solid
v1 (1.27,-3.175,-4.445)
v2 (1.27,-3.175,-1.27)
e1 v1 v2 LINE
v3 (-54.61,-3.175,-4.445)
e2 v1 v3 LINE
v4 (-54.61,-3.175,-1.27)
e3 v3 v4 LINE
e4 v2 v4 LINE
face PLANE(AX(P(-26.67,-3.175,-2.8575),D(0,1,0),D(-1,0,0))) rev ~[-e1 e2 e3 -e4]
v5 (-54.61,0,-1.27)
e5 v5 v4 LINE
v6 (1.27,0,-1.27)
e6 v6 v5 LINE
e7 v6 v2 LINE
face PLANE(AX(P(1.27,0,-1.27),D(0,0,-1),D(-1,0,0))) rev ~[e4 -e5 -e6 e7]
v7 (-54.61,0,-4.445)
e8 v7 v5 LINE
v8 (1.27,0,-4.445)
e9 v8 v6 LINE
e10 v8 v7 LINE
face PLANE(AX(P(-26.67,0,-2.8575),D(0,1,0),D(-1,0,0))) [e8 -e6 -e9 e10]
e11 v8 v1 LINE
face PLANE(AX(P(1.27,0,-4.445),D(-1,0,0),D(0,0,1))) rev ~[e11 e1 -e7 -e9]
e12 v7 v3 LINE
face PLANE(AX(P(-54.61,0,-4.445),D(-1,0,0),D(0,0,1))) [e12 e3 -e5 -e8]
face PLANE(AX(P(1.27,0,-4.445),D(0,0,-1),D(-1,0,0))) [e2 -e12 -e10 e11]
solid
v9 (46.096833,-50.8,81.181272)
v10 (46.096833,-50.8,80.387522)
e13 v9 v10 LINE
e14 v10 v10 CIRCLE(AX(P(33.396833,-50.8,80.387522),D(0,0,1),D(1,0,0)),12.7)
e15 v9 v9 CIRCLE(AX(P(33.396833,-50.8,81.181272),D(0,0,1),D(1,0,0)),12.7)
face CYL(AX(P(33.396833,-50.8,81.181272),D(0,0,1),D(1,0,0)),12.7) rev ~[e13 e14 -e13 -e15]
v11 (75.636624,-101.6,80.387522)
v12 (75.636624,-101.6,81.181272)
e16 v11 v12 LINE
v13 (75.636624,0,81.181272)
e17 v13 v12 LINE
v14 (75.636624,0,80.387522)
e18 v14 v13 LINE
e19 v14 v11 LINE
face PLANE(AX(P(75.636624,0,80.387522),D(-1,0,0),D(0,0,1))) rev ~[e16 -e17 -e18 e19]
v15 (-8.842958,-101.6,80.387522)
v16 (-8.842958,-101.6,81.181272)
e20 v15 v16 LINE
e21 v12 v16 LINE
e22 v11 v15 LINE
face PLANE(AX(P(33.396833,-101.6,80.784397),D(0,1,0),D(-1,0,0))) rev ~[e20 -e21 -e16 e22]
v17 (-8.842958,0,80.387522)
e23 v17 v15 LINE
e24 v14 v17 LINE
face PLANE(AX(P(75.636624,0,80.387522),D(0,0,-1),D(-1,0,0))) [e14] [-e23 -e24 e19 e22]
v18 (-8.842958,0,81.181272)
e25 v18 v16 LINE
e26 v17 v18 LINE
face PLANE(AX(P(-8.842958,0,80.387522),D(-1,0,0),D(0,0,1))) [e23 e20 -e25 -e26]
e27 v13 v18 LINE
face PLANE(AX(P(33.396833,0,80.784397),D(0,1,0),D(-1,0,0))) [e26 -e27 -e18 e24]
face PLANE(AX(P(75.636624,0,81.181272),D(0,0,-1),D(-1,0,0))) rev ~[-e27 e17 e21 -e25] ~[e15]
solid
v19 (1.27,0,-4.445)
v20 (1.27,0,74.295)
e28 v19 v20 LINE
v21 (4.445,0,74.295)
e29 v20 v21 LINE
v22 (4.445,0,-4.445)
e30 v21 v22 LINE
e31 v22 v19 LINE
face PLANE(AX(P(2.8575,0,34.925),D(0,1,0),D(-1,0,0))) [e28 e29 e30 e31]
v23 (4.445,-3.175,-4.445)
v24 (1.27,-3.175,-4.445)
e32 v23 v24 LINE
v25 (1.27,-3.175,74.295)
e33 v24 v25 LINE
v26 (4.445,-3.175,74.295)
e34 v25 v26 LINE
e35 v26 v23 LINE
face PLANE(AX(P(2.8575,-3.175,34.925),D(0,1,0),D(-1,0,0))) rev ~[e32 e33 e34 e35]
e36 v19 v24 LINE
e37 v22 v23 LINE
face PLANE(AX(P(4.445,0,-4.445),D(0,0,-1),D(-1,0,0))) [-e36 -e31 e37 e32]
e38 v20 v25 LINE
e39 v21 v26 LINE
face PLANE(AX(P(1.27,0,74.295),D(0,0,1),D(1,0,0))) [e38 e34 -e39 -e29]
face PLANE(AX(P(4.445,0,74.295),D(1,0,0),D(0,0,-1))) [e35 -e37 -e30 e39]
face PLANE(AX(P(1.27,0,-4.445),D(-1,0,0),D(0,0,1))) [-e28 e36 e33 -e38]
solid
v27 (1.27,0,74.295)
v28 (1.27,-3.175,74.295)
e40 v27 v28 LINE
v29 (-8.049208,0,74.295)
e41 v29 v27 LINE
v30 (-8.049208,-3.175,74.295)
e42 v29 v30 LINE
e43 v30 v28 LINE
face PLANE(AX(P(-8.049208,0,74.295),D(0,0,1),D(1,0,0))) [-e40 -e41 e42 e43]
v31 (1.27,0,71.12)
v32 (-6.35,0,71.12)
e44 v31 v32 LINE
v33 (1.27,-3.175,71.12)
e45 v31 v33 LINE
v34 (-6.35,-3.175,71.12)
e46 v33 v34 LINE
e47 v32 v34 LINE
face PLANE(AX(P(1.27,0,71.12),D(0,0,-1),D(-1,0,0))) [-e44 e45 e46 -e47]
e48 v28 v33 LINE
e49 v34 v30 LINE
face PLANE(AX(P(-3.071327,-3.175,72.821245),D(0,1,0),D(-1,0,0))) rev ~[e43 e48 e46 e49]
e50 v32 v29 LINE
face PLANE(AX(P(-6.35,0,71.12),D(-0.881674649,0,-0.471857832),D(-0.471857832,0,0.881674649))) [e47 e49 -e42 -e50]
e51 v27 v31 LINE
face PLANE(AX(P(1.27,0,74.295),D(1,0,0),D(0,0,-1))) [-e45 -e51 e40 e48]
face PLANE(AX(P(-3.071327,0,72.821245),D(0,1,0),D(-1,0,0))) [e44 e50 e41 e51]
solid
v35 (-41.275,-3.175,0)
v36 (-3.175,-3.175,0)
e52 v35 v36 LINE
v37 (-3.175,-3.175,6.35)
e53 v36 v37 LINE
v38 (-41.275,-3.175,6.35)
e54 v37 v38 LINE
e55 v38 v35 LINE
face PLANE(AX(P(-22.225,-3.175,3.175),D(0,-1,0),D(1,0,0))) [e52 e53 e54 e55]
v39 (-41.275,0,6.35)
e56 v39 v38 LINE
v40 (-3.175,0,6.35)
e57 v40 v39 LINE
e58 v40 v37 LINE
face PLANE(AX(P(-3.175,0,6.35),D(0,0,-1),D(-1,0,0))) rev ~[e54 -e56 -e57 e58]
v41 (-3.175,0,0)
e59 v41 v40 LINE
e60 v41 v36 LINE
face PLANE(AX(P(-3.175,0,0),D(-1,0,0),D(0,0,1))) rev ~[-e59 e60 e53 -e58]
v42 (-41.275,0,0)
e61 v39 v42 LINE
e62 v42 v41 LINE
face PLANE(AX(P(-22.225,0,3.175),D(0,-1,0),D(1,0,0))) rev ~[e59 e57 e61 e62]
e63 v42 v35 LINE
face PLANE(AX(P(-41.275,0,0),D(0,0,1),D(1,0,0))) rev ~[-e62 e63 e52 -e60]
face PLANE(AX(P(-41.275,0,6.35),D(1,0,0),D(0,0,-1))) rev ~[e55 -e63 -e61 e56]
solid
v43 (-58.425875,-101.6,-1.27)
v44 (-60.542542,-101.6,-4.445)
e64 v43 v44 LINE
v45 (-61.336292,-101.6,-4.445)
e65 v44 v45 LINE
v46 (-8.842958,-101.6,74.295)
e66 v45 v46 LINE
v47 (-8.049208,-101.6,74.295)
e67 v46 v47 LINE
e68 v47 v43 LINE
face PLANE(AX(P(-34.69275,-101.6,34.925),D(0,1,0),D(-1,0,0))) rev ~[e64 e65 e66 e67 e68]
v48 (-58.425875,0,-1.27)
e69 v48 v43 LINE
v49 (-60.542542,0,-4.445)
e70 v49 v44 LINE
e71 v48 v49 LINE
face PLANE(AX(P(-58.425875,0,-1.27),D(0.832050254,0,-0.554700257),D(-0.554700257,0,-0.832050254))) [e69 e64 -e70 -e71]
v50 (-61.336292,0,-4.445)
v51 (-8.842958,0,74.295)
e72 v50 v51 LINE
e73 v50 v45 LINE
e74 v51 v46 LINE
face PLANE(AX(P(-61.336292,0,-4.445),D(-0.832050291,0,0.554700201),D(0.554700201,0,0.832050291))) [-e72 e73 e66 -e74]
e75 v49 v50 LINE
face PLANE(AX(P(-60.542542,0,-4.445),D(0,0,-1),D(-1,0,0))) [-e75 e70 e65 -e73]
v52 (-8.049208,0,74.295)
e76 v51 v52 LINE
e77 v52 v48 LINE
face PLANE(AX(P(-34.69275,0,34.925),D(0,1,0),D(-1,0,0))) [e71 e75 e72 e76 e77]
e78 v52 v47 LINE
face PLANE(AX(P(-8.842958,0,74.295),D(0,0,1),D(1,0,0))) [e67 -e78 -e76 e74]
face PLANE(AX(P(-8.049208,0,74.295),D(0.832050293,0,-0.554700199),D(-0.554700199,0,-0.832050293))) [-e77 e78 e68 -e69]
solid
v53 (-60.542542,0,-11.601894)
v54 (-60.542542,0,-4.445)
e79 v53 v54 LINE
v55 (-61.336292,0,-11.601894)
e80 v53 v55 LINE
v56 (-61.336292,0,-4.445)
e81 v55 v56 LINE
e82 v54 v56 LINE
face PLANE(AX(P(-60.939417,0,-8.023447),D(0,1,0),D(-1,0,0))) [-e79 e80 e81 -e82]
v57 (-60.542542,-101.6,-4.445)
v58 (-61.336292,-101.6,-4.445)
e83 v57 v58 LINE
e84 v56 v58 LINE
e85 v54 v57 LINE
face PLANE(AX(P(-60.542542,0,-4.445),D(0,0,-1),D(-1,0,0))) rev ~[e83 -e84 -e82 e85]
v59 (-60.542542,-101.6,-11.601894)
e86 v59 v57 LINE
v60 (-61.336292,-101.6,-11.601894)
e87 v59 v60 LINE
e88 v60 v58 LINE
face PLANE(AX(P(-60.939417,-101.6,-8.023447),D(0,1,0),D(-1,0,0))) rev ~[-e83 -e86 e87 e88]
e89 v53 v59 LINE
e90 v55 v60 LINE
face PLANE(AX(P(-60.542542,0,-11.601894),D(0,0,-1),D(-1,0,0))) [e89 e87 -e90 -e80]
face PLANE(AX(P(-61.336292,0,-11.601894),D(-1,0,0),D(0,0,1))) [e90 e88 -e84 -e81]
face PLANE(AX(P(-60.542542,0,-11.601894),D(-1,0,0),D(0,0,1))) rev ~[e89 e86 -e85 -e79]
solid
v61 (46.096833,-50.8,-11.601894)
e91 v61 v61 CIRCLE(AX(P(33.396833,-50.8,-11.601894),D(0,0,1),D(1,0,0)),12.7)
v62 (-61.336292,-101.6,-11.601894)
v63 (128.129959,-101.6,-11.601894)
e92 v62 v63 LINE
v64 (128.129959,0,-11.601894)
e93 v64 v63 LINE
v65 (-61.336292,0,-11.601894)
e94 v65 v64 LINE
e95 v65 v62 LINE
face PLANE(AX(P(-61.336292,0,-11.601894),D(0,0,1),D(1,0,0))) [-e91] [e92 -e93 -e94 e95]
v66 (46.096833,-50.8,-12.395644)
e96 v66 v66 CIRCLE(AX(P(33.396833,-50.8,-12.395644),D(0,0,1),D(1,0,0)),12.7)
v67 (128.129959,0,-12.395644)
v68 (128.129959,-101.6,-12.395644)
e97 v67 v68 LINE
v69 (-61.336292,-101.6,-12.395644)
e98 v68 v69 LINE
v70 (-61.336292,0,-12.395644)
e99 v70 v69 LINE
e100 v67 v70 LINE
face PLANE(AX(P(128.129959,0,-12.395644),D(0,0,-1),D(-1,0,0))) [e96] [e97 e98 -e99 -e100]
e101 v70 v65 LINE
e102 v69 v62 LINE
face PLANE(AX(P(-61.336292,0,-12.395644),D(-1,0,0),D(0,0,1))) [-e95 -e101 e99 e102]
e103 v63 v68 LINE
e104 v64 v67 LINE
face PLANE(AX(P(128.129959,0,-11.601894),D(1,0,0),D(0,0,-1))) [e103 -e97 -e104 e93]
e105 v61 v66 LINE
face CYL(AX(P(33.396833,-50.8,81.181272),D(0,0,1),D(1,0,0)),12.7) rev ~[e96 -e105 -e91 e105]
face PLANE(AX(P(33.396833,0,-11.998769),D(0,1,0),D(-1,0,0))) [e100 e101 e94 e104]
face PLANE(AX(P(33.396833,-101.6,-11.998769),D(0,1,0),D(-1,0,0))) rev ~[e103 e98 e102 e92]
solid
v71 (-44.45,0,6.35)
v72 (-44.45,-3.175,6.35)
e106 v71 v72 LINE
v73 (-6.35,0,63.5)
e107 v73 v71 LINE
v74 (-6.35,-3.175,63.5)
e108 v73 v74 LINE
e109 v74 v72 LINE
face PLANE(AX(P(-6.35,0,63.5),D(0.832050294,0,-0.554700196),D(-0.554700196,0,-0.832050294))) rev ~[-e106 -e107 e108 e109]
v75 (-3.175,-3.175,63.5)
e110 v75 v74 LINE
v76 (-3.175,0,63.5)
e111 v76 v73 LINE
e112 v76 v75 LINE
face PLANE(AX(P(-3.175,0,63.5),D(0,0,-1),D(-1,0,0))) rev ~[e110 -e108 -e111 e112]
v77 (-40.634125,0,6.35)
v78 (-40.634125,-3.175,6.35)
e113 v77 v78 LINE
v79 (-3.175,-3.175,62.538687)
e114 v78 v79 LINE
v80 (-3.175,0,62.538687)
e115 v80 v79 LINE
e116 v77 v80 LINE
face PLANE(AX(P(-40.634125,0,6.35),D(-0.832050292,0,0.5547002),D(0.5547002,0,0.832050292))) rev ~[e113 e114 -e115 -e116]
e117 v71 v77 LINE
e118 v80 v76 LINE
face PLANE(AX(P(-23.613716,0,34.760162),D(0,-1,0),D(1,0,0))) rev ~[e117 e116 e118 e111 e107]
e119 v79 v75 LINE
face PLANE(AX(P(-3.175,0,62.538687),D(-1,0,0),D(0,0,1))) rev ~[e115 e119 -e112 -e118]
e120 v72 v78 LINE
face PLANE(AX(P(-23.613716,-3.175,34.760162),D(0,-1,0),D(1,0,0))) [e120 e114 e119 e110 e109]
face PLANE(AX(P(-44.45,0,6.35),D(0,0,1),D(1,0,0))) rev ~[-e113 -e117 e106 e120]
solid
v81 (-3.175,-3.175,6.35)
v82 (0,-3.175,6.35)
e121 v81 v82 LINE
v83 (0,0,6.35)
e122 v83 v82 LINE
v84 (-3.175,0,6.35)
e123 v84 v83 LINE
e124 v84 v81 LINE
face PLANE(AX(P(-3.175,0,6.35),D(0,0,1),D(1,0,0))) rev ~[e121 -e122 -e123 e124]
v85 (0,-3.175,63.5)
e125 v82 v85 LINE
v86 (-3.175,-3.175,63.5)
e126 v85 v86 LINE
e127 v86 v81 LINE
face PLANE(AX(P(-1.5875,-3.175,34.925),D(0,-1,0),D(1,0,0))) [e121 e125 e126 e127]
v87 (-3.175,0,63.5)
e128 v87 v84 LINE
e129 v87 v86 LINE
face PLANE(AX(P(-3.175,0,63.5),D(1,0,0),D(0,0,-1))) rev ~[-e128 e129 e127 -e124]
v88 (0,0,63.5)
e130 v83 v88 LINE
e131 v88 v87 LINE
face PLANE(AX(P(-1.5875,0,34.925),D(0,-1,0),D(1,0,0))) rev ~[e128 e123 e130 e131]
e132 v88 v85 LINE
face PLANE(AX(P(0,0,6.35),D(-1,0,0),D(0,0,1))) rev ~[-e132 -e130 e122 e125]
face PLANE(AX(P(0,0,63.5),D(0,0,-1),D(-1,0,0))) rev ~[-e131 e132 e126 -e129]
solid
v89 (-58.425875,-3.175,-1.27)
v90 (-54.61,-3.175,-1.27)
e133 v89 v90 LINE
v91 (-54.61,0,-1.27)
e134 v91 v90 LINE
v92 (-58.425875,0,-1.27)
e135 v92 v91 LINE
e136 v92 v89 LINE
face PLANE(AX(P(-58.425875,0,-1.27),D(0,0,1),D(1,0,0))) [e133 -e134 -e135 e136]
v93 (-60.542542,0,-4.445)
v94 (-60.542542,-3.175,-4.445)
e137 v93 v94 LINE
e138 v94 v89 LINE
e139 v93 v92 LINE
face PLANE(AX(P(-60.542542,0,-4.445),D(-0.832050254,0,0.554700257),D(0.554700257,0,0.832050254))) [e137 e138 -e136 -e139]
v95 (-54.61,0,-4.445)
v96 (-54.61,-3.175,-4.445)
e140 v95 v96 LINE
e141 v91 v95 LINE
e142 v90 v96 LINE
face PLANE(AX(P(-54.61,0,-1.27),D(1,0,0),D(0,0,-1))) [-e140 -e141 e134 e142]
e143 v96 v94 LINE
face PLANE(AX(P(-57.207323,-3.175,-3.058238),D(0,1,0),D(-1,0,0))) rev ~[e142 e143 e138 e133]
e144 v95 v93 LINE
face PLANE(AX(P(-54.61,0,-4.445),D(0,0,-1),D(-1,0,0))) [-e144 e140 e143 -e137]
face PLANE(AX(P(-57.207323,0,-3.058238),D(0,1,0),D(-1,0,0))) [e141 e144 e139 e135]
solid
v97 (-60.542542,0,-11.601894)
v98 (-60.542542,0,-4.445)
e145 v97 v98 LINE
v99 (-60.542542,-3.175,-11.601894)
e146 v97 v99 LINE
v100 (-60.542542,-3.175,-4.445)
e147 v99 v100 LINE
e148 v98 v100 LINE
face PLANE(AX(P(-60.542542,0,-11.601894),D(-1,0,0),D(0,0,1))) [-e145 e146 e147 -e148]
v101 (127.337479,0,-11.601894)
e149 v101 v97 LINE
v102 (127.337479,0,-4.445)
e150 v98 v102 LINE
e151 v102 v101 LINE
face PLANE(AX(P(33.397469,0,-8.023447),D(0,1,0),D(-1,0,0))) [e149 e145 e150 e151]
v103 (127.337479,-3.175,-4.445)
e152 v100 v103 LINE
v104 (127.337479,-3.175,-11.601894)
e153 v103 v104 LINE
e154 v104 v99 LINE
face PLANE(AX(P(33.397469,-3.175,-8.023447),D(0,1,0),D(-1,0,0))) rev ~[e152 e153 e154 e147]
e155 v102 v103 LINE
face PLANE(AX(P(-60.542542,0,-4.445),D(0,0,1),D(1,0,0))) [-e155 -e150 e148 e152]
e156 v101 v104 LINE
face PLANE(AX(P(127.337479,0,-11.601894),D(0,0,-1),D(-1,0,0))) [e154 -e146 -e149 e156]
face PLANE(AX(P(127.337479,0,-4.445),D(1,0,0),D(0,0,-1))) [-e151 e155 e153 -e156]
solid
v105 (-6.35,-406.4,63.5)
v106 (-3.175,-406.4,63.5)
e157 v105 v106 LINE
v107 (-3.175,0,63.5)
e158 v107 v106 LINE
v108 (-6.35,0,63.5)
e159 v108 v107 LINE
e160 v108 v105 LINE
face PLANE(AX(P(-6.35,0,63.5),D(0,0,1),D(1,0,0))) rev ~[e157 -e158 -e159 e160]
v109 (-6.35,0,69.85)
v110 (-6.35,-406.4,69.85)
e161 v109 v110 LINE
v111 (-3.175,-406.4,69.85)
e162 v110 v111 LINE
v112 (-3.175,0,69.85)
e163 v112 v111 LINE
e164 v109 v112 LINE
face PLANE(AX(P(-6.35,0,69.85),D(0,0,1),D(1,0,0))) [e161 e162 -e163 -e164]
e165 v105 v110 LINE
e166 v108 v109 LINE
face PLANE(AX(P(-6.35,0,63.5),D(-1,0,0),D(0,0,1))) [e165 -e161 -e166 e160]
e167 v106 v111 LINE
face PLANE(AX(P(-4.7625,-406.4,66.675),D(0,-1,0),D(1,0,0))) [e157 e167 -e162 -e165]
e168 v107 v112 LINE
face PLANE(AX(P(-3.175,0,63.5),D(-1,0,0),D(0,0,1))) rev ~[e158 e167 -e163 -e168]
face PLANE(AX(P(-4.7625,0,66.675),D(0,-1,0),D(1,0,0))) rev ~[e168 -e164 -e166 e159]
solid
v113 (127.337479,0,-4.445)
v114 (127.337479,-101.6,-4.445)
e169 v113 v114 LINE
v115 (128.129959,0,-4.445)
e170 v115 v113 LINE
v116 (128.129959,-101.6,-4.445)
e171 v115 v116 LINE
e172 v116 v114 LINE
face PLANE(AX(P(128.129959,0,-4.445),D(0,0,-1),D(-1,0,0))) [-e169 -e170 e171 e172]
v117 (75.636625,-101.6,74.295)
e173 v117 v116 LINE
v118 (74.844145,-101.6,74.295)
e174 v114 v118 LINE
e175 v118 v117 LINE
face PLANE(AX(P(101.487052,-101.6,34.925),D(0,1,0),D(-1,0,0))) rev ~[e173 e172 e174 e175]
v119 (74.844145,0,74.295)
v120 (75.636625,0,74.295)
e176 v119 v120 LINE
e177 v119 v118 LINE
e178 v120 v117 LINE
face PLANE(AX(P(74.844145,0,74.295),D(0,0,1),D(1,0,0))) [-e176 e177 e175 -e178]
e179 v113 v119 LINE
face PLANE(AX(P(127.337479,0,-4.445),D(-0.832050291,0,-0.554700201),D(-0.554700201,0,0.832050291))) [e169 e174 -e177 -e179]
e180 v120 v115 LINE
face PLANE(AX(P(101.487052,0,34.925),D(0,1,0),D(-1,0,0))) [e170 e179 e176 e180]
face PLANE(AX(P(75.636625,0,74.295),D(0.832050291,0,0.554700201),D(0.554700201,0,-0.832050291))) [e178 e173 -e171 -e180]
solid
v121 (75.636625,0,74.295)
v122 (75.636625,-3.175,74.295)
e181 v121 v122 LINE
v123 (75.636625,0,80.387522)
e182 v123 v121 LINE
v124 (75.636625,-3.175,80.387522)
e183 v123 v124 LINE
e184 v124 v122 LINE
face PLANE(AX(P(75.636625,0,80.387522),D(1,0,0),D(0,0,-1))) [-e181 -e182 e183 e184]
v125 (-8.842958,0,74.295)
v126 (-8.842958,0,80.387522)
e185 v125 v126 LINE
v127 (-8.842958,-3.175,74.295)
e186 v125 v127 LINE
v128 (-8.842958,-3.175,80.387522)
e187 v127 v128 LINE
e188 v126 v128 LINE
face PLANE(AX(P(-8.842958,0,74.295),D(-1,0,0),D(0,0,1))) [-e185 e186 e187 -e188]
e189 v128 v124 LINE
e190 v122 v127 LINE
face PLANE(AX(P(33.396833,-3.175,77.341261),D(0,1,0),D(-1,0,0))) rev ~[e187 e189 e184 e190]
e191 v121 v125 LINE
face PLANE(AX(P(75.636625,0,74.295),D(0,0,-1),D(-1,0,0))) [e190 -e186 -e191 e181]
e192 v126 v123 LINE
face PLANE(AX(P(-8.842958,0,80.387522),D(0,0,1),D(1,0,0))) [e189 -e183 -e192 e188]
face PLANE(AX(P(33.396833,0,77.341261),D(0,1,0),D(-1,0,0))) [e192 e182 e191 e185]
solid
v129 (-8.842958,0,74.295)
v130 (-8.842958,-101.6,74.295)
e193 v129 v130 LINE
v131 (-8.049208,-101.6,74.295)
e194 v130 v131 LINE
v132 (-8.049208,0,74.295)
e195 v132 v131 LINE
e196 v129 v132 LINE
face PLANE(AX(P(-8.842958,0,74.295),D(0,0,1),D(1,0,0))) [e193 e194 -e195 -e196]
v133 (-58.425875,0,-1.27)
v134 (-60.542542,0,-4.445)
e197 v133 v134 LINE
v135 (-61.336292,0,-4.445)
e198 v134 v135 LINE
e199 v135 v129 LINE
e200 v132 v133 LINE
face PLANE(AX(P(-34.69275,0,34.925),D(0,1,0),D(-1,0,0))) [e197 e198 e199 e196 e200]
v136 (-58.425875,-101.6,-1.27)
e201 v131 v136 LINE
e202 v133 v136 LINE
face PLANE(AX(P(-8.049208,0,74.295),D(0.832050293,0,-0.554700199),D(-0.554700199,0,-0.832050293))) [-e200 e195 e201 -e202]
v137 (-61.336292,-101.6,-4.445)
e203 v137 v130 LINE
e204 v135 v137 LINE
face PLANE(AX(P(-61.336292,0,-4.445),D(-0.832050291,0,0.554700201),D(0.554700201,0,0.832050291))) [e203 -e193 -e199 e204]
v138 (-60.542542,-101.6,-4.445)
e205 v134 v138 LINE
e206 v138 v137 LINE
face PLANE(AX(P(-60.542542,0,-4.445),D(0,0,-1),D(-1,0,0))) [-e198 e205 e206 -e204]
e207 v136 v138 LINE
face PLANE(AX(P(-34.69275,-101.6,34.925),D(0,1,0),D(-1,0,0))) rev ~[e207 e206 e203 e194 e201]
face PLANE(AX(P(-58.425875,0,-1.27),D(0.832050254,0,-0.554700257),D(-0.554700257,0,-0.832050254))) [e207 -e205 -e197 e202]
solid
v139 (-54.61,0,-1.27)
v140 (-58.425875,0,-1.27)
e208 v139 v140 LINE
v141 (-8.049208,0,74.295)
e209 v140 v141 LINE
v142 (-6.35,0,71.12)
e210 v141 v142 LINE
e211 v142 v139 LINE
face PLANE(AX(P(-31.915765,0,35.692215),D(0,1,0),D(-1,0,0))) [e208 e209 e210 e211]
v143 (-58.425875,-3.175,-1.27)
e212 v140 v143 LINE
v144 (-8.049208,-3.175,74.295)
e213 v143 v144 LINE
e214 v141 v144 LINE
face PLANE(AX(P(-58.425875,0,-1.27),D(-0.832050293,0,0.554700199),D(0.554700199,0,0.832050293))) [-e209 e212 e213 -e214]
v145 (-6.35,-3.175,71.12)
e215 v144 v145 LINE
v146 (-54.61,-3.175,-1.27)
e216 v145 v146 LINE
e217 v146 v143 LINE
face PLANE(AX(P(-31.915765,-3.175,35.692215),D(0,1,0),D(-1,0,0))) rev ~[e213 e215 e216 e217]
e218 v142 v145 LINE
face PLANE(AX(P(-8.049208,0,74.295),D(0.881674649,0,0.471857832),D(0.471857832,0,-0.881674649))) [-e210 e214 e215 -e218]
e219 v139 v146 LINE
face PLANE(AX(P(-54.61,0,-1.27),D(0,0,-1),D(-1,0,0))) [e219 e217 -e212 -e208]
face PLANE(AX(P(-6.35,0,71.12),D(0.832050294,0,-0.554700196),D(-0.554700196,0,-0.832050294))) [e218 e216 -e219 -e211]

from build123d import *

# Parameters (mm, degrees)
F0_W      = 3.175
F0_H      = 6.35
F1_DEPTH  = 406.4
F2_DEPTH  = 3.175
F3_DEPTH  = 3.175
F4_DEPTH  = 3.175
F6_DEPTH  = 3.175
F7_DEPTH  = 101.6
F8_DEPTH  = 3.175
F9_DEPTH  = 3.175
F10_DEPTH = 3.175
F11_DEPTH = 3.175
F5_W      = 55.88
F5_H      = 3.175
F12_DEPTH = 3.175
F5_W_2    = 84.479583
F5_H_2    = 0.79375
F13_DEPTH = 101.6
F14_R     = 12.7
F15_DEPTH = 93.577917
F16_DEPTH = 101.6
F5_W_3    = 0.79375
F5_H_3    = 7.156894
F17_DEPTH = 101.6
F18_DEPTH = 3.175
F19_DEPTH = 101.6


with BuildPart() as f1:
    # F0 (on Front) → F1 (new body)
    with BuildSketch(Plane.XZ):
        with Locations((-4.7625, 66.675)):
            Rectangle(F0_W, F0_H)
    extrude(amount=F1_DEPTH)


with BuildPart() as f2:
    # F0 (on Front) → F2 (new body)
    with BuildSketch(Plane.XZ):
        Polygon((-41.275, 6.35), (-41.275, 0), (-3.175, 0), (-3.175, 6.35), (-40.634125, 6.35), align=None)
    extrude(amount=F2_DEPTH)


with BuildPart() as f3:
    # F0 (on Front) → F3 (new body)
    with BuildSketch(Plane.XZ):
        Polygon((-6.35, 63.5), (-44.45, 6.35), (-41.275, 6.35), (-40.634125, 6.35), (-3.175, 62.538687), (-3.175, 63.5), align=None)
    extrude(amount=F3_DEPTH)


with BuildPart() as f4:
    # F0 (on Front) → F4 (new body)
    with BuildSketch(Plane.XZ):
        Polygon((-3.175, 62.538687), (-3.175, 6.35), (0, 6.35), (0, 63.5), (-3.175, 63.5), align=None)
    extrude(amount=F4_DEPTH)


with BuildPart() as f6:
    # F5 (on face) → F6 (new body)
    with BuildSketch(Plane(origin=(0, 0, 0), x_dir=(-1, 0, 0), z_dir=(0, 1, 0))):
        Polygon((-4.445, 74.295), (-1.27, 74.295), (8.049208, 74.295), (8.842958, 74.295), (8.842958, 80.387522), (-75.636625, 80.387522), (-75.636625, 74.295), (-74.844145, 74.295), align=None)
    extrude(amount=-F6_DEPTH)


with BuildPart() as f7:
    # F5 (on face) → F7 (new body)
    with BuildSketch(Plane(origin=(0, 0, 0), x_dir=(-1, 0, 0), z_dir=(0, 1, 0))):
        Polygon((8.842958, 74.295), (8.049208, 74.295), (58.425875, -1.27), (60.542542, -4.445), (61.336292, -4.445), align=None)
    extrude(amount=-F7_DEPTH)


with BuildPart() as f8:
    # F5 (on face) → F8 (new body)
    with BuildSketch(Plane(origin=(0, 0, 0), x_dir=(-1, 0, 0), z_dir=(0, 1, 0))):
        Polygon((-1.27, 74.295), (-1.27, 71.12), (6.35, 71.12), (8.049208, 74.295), align=None)
    extrude(amount=-F8_DEPTH)


with BuildPart() as f9:
    # F5 (on face) → F9 (new body)
    with BuildSketch(Plane(origin=(0, 0, 0), x_dir=(-1, 0, 0), z_dir=(0, 1, 0))):
        Polygon((8.049208, 74.295), (6.35, 71.12), (54.61, -1.27), (58.425875, -1.27), align=None)
    extrude(amount=-F9_DEPTH)


with BuildPart() as f10:
    # F5 (on face) → F10 (new body)
    with BuildSketch(Plane(origin=(0, 0, 0), x_dir=(-1, 0, 0), z_dir=(0, 1, 0))):
        Polygon((-1.27, -1.27), (-1.27, 71.12), (-1.27, 74.295), (-4.445, 74.295), (-4.445, -4.445), (-1.27, -4.445), align=None)
    extrude(amount=-F10_DEPTH)


with BuildPart() as f11:
    # F5 (on face) → F11 (new body)
    with BuildSketch(Plane(origin=(0, 0, 0), x_dir=(-1, 0, 0), z_dir=(0, 1, 0))):
        Polygon((58.425875, -1.27), (54.61, -1.27), (54.61, -4.445), (60.542542, -4.445), align=None)
    extrude(amount=-F11_DEPTH)


with BuildPart() as f12:
    # F5 (on face) → F12 (new body)
    with BuildSketch(Plane(origin=(0, 0, 0), x_dir=(-1, 0, 0), z_dir=(0, 1, 0))):
        with Locations((26.67, -2.8575)):
            Rectangle(F5_W, F5_H)
    extrude(amount=-F12_DEPTH)


with BuildPart() as f13:
    # F5 (on face) → F13 (new body)
    with BuildSketch(Plane(origin=(0, 0, 0), x_dir=(-1, 0, 0), z_dir=(0, 1, 0))):
        Polygon((61.336292, -11.601894), (60.542542, -11.601894), (-127.337479, -11.601894), (-128.129959, -11.601894), (-128.129959, -12.395644), (61.336292, -12.395644), align=None)
        with Locations((-33.396833, 80.784397)):
            Rectangle(F5_W_2, F5_H_2)
    extrude(amount=-F13_DEPTH)

    # F14 (on face) → F15 (cut, through all)
    with BuildSketch(Plane.XY.offset(81.181272)):
        with Locations((33.396833, -50.8)):
            Circle(F14_R)
    extrude(amount=-F15_DEPTH, mode=Mode.SUBTRACT)


with BuildPart() as f16:
    # F5 (on face) → F16 (new body)
    with BuildSketch(Plane(origin=(0, 0, 0), x_dir=(-1, 0, 0), z_dir=(0, 1, 0))):
        Polygon((8.842958, 74.295), (8.049208, 74.295), (58.425875, -1.27), (60.542542, -4.445), (61.336292, -4.445), align=None)
    extrude(amount=-F16_DEPTH)


with BuildPart() as f17:
    # F5 (on face) → F17 (new body)
    with BuildSketch(Plane(origin=(0, 0, 0), x_dir=(-1, 0, 0), z_dir=(0, 1, 0))):
        with Locations((60.939417, -8.023447)):
            Rectangle(F5_W_3, F5_H_3)
    extrude(amount=-F17_DEPTH)


with BuildPart() as f18:
    # F5 (on face) → F18 (new body)
    with BuildSketch(Plane(origin=(0, 0, 0), x_dir=(-1, 0, 0), z_dir=(0, 1, 0))):
        Polygon((54.61, -4.445), (-1.27, -4.445), (-4.445, -4.445), (-127.337479, -4.445), (-127.337479, -11.601894), (60.542542, -11.601894), (60.542542, -4.445), align=None)
    extrude(amount=-F18_DEPTH)


with BuildPart() as f19:
    # F5 (on face) → F19 (new body)
    with BuildSketch(Plane(origin=(0, 0, 0), x_dir=(-1, 0, 0), z_dir=(0, 1, 0))):
        Polygon((-127.337479, -4.445), (-74.844145, 74.295), (-75.636625, 74.295), (-128.129959, -4.445), align=None)
    extrude(amount=-F19_DEPTH)


solid = Compound([f1.part, f2.part, f3.part, f4.part, f6.part, f7.part, f8.part, f9.part, f10.part, f11.part, f12.part, f13.part, f16.part, f17.part, f18.part, f19.part])
